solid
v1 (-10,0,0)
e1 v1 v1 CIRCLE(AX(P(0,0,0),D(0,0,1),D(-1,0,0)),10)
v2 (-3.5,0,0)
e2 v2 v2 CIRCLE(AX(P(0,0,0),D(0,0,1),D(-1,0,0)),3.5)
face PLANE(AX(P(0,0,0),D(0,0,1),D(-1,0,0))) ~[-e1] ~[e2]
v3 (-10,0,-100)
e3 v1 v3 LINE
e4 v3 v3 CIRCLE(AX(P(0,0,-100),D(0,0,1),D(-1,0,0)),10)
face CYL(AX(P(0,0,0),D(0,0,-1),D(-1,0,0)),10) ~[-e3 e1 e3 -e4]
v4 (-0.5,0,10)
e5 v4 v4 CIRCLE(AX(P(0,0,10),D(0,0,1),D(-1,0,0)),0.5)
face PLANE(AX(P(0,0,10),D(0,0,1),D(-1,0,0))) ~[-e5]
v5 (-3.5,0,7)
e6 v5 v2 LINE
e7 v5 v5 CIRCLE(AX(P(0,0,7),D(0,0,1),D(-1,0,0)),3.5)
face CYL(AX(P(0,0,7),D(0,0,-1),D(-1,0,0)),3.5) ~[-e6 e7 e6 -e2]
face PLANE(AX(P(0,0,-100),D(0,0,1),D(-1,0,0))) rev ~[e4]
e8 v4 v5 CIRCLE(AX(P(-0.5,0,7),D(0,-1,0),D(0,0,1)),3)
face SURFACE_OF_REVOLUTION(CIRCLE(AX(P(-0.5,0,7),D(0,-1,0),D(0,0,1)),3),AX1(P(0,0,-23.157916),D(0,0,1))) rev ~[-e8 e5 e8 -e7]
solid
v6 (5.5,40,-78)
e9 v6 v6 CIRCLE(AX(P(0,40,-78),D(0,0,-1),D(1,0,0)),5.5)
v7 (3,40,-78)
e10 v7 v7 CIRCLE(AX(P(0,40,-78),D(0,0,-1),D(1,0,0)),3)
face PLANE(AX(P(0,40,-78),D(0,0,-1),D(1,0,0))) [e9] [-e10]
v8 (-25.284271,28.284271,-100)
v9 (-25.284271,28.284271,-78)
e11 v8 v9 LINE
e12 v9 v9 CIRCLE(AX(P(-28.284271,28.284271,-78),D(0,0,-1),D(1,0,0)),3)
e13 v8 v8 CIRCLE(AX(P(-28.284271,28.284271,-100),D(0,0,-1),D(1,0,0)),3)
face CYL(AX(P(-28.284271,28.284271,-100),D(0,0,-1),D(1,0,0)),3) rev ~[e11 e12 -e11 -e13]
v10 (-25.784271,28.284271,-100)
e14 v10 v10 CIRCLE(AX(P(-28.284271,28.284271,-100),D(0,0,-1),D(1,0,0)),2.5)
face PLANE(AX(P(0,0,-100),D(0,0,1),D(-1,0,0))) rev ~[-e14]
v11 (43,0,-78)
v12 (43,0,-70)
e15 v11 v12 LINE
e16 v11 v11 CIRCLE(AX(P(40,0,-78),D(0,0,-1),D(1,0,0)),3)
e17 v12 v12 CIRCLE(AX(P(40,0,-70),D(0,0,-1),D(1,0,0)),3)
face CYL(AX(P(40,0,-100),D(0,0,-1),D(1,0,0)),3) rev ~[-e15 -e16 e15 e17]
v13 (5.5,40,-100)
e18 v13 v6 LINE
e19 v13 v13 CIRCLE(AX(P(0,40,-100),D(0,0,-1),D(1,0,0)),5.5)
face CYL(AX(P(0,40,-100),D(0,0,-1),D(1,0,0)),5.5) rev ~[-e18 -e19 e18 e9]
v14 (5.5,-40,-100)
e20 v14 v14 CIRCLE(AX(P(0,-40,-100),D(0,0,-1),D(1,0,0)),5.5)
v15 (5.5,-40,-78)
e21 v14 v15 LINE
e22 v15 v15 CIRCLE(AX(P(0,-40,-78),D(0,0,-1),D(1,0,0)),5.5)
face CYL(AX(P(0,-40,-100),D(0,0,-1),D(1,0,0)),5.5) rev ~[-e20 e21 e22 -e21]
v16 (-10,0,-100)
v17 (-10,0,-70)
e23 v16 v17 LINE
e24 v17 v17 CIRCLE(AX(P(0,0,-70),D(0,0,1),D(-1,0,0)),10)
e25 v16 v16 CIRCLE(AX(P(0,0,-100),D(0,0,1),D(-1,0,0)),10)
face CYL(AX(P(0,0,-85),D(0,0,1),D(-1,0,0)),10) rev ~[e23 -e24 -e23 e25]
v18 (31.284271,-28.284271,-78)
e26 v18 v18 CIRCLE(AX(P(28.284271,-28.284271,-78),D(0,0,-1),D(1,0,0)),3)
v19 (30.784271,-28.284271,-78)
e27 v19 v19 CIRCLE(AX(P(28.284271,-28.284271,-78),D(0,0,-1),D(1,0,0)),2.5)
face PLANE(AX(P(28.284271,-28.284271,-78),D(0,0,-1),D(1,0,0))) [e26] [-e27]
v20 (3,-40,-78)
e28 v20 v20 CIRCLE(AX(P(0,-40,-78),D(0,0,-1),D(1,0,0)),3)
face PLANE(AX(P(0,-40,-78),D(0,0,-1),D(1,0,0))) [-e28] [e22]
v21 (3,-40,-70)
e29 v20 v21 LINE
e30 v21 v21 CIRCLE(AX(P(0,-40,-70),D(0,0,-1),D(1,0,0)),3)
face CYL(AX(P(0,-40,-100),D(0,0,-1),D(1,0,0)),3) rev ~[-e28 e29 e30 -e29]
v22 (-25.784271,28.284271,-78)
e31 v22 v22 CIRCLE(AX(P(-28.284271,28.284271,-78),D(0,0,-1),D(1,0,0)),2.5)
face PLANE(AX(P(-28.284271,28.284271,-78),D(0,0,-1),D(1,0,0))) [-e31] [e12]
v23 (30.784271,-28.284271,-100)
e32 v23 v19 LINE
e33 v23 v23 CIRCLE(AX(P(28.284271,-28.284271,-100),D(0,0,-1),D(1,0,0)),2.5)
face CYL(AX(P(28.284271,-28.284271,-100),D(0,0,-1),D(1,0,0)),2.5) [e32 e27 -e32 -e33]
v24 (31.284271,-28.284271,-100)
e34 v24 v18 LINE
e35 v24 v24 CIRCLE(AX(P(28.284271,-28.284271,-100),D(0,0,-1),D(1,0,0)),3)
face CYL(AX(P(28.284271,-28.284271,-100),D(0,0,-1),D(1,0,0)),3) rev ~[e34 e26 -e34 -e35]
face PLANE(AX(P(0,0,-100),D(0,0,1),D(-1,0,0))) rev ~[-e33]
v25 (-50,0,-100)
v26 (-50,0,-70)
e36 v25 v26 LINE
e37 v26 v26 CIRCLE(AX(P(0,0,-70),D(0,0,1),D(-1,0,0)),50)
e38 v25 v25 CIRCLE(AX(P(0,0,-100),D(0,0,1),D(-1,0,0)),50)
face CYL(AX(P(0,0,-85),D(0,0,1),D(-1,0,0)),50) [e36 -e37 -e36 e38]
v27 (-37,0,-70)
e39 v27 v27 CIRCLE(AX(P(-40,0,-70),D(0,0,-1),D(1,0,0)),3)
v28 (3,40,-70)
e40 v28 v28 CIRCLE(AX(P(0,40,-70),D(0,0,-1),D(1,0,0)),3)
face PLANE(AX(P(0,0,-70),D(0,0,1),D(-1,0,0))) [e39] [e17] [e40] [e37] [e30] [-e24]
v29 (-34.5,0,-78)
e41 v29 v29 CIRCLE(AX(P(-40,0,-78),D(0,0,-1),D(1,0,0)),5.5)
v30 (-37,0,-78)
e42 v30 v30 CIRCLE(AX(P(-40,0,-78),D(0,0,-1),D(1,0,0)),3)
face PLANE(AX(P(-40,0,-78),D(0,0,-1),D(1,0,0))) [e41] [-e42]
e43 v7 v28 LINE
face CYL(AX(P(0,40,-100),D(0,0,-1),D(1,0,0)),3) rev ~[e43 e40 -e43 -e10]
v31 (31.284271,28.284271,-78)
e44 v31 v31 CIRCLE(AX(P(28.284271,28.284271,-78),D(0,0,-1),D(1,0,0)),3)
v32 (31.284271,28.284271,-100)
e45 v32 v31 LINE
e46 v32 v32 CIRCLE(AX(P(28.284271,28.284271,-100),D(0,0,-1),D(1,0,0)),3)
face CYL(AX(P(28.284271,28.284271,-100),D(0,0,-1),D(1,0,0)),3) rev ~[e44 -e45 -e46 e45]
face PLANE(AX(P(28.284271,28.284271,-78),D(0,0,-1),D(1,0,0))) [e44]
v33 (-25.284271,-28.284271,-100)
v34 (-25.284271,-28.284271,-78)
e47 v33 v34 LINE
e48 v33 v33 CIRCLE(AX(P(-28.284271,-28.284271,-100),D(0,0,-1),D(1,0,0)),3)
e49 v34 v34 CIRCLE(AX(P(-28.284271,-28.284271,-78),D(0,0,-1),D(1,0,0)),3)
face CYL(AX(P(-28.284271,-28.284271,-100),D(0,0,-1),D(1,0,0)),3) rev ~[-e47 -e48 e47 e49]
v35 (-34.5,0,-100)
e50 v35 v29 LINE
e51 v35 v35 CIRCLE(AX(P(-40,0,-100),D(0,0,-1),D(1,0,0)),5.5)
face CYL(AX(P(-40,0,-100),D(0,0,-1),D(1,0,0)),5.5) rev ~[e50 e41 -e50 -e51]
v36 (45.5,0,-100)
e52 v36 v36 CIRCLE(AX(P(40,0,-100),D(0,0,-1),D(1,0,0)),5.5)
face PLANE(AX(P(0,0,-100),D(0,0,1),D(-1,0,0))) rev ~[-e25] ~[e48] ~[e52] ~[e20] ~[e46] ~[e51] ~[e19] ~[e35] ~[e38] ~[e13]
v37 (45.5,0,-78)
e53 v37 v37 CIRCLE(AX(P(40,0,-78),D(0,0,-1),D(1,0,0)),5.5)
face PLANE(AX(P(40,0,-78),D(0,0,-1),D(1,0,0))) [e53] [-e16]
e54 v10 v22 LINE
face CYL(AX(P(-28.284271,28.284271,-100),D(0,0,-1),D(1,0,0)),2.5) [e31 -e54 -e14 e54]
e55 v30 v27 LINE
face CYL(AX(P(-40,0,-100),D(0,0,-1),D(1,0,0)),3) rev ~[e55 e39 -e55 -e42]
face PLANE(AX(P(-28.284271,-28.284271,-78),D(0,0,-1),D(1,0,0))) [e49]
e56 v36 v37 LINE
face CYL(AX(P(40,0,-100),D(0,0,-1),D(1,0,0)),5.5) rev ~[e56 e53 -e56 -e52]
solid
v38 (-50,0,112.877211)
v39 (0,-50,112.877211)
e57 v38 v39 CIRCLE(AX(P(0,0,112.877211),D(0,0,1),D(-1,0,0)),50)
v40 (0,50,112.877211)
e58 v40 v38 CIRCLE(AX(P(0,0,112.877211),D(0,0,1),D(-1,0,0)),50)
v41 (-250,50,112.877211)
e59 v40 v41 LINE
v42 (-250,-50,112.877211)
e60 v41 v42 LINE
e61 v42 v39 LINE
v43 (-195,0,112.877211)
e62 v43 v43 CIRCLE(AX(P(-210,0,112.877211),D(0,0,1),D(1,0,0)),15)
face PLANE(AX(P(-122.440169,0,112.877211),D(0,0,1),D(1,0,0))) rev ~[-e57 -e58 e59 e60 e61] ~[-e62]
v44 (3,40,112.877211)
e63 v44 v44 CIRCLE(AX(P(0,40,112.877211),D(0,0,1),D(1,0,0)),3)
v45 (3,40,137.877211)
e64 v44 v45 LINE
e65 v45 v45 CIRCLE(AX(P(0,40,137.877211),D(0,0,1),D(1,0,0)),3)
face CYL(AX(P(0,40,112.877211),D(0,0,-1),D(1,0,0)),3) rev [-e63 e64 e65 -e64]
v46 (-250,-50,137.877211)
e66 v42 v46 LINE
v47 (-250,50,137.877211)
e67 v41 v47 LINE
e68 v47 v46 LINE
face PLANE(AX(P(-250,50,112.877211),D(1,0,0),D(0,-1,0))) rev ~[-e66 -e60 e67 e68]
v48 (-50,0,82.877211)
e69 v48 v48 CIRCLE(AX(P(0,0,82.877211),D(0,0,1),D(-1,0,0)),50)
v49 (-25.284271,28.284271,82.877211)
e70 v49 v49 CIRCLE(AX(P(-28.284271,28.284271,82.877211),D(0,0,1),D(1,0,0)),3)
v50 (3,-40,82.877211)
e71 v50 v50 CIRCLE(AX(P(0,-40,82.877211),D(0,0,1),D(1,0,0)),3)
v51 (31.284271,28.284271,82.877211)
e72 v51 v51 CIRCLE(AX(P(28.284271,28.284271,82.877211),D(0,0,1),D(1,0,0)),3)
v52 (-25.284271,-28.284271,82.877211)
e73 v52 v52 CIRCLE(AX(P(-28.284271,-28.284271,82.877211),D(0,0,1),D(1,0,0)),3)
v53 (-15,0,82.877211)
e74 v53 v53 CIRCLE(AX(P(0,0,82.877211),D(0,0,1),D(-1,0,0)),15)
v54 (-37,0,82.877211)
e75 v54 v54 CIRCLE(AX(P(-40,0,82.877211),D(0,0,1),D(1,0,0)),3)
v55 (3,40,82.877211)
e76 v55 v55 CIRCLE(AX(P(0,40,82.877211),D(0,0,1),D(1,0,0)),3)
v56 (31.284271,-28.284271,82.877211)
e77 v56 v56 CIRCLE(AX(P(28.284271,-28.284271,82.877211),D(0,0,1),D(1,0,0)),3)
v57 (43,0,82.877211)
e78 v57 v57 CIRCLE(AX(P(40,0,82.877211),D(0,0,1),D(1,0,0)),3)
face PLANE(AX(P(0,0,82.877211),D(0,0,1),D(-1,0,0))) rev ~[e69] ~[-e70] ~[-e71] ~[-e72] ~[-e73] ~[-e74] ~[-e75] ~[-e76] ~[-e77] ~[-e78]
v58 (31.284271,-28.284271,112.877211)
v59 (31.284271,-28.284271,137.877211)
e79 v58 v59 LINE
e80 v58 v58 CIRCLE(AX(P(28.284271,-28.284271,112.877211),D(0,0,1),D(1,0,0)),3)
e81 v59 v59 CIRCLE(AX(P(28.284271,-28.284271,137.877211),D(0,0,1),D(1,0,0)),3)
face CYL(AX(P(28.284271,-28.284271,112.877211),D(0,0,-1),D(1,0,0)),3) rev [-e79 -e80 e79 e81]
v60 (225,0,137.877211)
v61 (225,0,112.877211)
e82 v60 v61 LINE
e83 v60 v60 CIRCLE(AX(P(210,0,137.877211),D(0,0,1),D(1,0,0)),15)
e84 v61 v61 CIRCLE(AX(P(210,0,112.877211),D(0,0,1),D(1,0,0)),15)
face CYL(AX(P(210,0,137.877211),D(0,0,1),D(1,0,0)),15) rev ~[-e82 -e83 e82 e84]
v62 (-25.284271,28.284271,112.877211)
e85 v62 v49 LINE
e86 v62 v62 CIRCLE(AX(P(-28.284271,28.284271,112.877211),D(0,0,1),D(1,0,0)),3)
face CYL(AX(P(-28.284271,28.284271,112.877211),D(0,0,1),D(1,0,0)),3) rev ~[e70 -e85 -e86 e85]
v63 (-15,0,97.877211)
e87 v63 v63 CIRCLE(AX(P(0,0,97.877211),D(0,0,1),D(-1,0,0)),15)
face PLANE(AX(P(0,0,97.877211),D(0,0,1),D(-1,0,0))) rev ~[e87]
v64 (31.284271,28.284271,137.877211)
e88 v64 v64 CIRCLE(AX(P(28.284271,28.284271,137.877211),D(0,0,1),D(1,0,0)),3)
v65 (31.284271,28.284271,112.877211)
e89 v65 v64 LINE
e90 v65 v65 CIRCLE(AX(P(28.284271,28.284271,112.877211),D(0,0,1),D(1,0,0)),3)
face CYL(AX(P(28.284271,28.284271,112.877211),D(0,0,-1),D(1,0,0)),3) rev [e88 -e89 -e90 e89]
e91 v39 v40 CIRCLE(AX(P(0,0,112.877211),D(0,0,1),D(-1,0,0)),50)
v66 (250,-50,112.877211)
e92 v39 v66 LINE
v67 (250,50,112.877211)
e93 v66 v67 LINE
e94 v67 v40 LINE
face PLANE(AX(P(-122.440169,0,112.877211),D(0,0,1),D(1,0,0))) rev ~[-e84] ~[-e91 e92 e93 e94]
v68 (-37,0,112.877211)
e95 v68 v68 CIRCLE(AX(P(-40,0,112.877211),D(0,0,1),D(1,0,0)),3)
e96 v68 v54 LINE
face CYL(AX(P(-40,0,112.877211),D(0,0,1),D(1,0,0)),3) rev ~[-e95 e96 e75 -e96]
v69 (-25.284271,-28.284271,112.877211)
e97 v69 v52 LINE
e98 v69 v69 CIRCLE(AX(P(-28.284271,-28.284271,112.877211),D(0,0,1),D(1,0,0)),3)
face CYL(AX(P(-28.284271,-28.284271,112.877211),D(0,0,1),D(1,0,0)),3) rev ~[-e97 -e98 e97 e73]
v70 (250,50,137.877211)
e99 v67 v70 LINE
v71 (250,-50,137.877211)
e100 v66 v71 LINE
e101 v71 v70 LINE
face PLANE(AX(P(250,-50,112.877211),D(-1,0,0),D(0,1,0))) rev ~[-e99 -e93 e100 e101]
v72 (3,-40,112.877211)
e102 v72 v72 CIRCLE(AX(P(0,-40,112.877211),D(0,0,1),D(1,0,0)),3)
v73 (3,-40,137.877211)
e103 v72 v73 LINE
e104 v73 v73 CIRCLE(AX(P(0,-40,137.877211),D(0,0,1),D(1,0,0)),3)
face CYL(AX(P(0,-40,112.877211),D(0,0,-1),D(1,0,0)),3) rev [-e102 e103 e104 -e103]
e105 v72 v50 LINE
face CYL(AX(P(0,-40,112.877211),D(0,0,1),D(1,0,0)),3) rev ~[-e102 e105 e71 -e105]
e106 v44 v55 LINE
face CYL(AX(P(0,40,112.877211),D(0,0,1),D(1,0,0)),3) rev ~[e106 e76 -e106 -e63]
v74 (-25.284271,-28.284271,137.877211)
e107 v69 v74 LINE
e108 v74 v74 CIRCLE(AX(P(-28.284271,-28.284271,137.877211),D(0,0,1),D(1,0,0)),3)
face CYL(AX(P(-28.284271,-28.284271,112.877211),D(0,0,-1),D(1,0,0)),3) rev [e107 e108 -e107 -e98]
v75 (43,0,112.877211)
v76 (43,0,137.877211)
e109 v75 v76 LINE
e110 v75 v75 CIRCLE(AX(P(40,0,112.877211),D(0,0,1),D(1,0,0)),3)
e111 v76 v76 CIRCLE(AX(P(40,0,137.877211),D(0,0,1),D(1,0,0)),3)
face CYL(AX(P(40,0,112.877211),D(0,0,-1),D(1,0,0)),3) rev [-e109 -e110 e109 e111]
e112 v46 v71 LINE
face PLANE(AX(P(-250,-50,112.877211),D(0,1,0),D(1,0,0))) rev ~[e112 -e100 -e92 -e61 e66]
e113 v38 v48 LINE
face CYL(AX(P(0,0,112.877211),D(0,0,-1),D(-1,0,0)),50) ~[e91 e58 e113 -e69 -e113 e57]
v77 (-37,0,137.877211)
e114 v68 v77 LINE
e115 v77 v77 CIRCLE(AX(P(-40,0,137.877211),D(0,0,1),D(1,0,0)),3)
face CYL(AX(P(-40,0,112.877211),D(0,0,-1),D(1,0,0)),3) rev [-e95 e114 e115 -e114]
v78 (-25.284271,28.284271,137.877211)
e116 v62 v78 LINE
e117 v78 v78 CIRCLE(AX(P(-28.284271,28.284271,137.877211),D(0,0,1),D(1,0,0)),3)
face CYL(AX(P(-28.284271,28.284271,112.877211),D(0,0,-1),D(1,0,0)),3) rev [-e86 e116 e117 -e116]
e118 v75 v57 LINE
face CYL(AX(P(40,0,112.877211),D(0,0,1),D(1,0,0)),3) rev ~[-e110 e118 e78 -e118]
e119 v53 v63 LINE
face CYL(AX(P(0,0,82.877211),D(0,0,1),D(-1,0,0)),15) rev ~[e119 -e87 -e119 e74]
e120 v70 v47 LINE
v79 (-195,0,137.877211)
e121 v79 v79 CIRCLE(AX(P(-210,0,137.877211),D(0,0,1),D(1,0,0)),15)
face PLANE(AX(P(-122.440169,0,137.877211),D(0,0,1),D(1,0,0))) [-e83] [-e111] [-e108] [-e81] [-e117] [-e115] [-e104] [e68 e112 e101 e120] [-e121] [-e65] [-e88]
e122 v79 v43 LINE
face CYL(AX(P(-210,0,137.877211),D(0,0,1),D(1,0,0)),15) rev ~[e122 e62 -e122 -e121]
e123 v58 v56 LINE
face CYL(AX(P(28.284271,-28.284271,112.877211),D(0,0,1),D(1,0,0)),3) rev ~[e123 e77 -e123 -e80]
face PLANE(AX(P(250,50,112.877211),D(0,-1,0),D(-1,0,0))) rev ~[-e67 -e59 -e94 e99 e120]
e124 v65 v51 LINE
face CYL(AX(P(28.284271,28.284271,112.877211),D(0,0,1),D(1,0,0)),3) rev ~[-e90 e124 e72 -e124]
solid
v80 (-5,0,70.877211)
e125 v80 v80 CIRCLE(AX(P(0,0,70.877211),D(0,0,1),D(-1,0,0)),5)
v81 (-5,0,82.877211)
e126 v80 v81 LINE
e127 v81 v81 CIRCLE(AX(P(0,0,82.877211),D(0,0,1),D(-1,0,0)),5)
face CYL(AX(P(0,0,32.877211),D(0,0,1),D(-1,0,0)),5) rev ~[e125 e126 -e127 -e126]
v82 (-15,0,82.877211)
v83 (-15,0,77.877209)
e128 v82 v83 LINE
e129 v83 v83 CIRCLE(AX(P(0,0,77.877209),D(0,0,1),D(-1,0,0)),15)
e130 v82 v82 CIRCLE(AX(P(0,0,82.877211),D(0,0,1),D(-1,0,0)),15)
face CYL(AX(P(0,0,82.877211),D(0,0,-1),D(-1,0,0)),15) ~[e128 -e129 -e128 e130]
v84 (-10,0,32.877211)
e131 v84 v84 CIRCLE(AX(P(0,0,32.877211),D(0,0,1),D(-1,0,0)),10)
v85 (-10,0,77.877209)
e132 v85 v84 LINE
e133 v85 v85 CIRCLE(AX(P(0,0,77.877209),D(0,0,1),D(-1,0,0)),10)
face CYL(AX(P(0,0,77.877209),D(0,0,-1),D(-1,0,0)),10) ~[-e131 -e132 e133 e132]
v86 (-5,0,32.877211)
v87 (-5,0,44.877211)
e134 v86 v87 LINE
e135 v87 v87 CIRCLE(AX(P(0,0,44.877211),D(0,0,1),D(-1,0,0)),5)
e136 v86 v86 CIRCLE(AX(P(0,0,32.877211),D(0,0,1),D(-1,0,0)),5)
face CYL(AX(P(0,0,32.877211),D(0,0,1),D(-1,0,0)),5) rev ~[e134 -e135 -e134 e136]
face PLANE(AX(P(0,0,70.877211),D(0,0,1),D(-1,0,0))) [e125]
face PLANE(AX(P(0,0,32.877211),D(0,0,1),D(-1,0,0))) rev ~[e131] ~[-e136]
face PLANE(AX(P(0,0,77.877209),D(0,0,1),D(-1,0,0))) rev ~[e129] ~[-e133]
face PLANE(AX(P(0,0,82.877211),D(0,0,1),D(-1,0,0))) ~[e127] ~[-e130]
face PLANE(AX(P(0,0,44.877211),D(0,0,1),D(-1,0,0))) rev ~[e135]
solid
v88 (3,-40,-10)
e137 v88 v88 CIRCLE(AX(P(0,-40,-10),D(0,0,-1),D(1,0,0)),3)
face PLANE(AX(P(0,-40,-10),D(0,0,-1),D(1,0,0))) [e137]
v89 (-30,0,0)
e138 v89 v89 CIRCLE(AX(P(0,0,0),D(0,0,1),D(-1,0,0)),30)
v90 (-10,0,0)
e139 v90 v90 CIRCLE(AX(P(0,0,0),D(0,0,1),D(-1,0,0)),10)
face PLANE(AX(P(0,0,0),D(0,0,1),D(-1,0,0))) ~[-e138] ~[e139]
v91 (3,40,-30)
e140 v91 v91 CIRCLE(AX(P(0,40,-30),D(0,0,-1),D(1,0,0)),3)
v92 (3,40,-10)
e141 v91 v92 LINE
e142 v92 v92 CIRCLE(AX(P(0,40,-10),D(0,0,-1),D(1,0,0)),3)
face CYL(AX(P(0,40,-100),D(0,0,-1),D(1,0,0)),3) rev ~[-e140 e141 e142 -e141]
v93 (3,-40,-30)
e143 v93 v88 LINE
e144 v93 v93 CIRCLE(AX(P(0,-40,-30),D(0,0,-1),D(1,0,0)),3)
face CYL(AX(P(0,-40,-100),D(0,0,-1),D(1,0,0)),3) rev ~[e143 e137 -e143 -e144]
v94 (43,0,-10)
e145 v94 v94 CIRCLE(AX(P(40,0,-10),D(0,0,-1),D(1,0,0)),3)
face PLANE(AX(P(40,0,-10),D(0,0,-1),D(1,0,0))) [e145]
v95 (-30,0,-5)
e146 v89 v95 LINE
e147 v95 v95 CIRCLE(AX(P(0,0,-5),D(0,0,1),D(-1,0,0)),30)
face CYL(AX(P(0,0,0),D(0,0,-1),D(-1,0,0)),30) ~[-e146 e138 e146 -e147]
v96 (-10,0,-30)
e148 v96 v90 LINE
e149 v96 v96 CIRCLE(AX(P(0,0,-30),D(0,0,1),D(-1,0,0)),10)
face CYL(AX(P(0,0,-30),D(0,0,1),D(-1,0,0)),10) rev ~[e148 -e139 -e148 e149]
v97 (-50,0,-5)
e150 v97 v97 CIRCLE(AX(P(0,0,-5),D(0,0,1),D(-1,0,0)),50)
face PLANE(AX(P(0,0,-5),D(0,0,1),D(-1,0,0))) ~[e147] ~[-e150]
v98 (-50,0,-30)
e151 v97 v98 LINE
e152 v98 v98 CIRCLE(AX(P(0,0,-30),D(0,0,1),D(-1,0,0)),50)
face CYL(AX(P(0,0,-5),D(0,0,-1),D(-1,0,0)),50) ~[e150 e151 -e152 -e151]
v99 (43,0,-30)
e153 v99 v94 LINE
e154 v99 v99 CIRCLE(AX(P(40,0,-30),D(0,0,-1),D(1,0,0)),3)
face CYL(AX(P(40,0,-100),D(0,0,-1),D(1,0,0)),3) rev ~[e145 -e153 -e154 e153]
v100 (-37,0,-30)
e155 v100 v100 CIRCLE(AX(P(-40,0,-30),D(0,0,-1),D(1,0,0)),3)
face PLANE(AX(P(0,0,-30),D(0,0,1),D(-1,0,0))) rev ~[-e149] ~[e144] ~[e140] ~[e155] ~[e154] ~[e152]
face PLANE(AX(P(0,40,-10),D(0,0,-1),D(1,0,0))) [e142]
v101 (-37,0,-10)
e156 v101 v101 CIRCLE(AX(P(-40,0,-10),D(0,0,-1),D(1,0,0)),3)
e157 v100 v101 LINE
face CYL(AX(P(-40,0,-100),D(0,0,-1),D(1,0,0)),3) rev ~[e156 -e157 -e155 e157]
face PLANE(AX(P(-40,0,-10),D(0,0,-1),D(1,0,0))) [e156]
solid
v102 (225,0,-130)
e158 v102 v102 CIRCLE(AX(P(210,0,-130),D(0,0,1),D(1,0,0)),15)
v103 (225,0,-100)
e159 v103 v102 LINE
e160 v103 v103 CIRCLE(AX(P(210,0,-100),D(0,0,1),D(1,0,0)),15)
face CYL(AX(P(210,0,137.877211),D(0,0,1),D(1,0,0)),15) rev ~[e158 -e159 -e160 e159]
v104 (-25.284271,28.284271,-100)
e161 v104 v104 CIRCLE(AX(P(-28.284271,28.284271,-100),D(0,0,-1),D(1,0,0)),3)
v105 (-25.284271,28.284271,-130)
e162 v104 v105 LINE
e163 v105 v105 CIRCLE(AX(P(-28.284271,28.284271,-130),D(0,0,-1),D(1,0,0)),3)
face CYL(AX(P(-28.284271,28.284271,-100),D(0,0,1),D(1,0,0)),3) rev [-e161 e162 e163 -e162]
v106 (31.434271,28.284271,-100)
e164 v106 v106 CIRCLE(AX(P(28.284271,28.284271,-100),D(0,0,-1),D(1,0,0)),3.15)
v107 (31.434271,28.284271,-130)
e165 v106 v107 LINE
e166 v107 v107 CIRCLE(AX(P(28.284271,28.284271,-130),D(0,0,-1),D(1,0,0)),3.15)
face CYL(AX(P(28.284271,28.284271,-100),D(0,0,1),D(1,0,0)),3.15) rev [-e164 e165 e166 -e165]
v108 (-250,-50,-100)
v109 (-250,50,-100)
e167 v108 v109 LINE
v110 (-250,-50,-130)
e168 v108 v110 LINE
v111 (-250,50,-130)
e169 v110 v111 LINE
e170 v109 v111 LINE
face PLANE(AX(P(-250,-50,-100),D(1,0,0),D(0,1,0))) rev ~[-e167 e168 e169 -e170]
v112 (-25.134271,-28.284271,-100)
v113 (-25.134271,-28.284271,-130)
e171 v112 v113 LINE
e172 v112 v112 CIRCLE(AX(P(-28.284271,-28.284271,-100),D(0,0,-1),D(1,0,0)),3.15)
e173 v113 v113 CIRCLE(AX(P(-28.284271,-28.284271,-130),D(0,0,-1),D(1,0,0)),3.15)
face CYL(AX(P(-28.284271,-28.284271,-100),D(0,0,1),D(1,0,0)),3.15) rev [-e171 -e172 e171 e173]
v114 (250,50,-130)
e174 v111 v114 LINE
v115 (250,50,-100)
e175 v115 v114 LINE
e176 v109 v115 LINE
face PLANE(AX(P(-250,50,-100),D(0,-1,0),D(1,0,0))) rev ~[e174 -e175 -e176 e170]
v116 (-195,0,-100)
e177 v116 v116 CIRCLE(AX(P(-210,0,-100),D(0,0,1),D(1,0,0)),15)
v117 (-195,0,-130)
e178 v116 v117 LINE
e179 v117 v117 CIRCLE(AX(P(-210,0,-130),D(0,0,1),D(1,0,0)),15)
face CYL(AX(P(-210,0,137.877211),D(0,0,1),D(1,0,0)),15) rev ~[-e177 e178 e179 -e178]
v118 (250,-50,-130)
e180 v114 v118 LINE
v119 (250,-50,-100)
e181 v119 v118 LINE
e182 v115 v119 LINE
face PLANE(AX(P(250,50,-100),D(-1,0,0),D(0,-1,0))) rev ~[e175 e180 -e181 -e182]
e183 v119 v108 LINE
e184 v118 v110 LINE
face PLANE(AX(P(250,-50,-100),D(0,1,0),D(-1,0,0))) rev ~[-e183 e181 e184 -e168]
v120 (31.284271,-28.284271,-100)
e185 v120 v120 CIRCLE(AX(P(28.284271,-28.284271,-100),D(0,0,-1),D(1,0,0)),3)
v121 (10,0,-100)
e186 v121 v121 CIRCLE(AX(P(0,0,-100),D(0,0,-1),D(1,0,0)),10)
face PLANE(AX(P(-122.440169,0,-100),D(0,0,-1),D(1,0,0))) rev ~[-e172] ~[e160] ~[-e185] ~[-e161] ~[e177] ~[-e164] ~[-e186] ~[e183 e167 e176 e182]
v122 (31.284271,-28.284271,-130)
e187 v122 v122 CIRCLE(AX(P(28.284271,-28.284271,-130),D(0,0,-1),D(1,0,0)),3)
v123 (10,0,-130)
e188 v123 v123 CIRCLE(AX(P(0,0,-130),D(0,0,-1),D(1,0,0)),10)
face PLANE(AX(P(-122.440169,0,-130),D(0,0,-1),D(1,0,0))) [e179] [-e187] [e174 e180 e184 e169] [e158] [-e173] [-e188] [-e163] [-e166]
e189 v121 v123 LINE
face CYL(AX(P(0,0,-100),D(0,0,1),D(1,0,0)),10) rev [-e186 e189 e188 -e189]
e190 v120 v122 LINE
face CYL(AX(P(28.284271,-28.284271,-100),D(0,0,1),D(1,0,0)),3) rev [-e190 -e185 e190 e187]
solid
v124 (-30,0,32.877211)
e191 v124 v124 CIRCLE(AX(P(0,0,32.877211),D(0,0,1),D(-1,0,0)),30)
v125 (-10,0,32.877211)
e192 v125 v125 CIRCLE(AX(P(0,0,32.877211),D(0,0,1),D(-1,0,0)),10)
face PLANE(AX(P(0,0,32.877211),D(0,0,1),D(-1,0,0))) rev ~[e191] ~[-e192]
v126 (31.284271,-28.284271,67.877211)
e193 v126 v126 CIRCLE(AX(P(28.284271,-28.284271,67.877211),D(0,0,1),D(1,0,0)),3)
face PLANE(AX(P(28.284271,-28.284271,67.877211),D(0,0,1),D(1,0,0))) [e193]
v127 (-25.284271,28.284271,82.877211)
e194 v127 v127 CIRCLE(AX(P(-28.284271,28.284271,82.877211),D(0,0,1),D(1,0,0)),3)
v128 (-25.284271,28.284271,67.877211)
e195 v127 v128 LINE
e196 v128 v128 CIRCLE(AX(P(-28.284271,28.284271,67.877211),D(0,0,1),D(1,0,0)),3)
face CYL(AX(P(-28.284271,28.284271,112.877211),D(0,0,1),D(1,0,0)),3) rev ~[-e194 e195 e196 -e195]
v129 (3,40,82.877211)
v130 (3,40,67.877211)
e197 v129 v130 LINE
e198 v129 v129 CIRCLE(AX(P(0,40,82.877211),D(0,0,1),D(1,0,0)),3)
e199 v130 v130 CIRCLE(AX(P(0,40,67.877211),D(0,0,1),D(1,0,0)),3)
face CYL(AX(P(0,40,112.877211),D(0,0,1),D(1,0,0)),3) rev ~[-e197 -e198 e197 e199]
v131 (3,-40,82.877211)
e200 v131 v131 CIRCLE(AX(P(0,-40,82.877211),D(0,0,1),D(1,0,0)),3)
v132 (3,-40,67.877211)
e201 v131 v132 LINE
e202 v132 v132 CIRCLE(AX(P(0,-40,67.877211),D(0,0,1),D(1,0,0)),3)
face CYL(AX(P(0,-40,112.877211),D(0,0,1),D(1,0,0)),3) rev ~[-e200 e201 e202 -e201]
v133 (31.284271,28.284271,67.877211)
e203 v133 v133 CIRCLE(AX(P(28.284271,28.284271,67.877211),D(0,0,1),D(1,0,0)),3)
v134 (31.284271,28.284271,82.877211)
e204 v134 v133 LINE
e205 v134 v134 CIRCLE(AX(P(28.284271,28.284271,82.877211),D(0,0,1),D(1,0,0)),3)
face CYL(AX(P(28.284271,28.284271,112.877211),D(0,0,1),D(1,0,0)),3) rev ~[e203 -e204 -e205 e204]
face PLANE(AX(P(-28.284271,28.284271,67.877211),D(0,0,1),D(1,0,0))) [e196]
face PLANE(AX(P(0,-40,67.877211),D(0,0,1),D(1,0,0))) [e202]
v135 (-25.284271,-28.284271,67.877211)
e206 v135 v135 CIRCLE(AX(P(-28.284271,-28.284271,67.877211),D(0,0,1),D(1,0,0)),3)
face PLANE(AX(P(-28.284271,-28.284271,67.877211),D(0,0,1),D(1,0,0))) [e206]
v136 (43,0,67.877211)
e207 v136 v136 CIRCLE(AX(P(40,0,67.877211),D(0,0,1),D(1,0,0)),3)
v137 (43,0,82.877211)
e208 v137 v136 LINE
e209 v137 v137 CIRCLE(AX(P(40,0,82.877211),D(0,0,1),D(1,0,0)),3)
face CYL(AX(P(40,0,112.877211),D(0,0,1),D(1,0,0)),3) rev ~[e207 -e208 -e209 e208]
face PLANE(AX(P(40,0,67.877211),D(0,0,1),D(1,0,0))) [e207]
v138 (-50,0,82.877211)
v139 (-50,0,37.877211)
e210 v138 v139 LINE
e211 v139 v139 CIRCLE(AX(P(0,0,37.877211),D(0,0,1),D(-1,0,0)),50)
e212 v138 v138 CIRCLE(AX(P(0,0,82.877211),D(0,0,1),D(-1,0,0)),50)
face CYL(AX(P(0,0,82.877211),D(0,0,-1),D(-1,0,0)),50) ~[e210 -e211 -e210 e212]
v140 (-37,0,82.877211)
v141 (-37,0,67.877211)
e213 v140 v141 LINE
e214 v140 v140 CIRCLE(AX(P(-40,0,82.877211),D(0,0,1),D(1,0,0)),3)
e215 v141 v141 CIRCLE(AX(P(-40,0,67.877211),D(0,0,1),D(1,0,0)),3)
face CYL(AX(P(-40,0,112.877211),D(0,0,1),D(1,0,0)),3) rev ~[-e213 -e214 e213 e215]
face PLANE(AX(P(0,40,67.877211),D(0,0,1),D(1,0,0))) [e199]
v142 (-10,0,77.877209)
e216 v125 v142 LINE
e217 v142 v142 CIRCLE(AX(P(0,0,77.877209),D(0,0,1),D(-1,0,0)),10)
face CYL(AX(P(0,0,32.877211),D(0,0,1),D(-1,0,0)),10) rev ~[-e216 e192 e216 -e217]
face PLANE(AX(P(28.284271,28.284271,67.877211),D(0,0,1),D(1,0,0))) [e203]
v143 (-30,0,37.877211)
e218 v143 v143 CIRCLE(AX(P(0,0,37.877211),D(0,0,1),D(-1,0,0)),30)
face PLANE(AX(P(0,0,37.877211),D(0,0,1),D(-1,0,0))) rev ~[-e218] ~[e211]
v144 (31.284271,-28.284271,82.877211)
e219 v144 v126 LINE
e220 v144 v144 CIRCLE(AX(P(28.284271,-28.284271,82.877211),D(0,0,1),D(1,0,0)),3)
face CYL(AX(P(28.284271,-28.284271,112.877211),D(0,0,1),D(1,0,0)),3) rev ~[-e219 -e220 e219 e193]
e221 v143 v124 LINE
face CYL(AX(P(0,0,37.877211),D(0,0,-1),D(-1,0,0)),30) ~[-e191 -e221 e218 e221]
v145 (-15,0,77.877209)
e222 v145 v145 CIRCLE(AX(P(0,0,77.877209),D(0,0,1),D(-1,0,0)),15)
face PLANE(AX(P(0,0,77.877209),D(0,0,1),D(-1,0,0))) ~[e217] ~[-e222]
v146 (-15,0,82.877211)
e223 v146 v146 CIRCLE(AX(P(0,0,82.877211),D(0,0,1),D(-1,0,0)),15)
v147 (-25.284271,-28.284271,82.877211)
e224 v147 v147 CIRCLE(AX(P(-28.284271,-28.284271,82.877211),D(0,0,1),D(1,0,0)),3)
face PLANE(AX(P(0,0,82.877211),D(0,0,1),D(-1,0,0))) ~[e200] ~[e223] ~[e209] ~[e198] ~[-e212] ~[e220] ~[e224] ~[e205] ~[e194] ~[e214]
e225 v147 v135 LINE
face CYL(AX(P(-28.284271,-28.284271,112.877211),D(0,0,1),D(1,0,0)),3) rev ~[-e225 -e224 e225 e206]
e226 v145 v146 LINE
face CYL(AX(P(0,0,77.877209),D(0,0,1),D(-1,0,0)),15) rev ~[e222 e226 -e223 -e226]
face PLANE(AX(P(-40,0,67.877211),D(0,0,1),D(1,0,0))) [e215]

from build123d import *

# Parameters (mm, degrees)
F0_W      = 40
F0_H      = 30
F4_R      = 3
F5_DEPTH  = 90
F4_R_2    = 5.5
F4_R_3    = 2.5
F6_DEPTH  = 22
F4_R_4    = 3.15
F4_R_5    = 10
F7_DEPTH  = 30
F8_W      = 4.9999998882
F8_H      = 26
F12_R     = 3
F13_DEPTH = 45
F14_DEPTH = 25
F15_R     = 15
F16_DEPTH = 300


with BuildPart() as f1:
    # F0 (on Front) → F1 (revolve)
    with BuildSketch(Plane.XZ):
        Polygon((-10, 0), (-30, 0), (-30, -5), (-50, -5), (-50, -30), (-10, -30), align=None)
    revolve(axis=Axis((0, 0, -23.157916218), (0, 0, 1)))


with BuildPart() as f2:
    # F0 (on Front) → F2 (revolve)
    with BuildSketch(Plane.XZ):
        with BuildLine():
            Line((-3.5, 0), (-10, 0))
            Line((-10, 0), (-10, -30))
            Line((-10, -30), (-10, -70))
            Line((-10, -70), (-10, -100))
            Line((-10, -100), (0, -100))
            Line((0, -100), (0, 10))
            Line((0, 10), (-0.5, 10))
            ThreePointArc((-0.5, 10), (-2.6213203436, 9.1213203436), (-3.5, 7))
            Line((-3.5, 7), (-3.5, 0))
        make_face()
    revolve(axis=Axis((0, 0, -23.157916218), (0, 0, 1)))


with BuildPart() as f3:
    # F0 (on Front) → F3 (revolve)
    with BuildSketch(Plane.XZ):
        with Locations((-30, -85)):
            Rectangle(F0_W, F0_H)
    revolve(axis=Axis((0, 0, -23.157916218), (0, 0, 1)))


with BuildPart() as f5_tool:
    # F4 (on face) → F5 (new body)
    with BuildSketch(Plane(origin=(0, 0, -100), x_dir=(1, 0, 0), z_dir=(0, 0, -1))):
        with Locations((0, -40)):
            Circle(F4_R)
        with Locations((-40, 0)):
            Circle(F4_R)
        with Locations((0, 40)):
            Circle(F4_R)
        with Locations((40, 0)):
            Circle(F4_R)
    extrude(amount=-F5_DEPTH)


with BuildPart() as f1_1:
    add(f1.part)

    # F5: cut by f5_tool
    add(f5_tool.part, mode=Mode.SUBTRACT)


with BuildPart() as f3_1:
    add(f3.part)

    # F5: cut by f5_tool
    add(f5_tool.part, mode=Mode.SUBTRACT)

    # F4 (on face) → F6 (cut)
    with BuildSketch(Plane(origin=(0, 0, -100), x_dir=(1, 0, 0), z_dir=(0, 0, -1))):
        with Locations((-40, 0)):
            Circle(F4_R_2)
        with Locations((-40, 0)):
            Circle(F4_R, mode=Mode.SUBTRACT)
        with Locations((0, -40)):
            Circle(F4_R_2)
        with Locations((0, -40)):
            Circle(F4_R, mode=Mode.SUBTRACT)
        with Locations((40, 0)):
            Circle(F4_R_2)
        with Locations((40, 0)):
            Circle(F4_R, mode=Mode.SUBTRACT)
        with Locations((0, 40)):
            Circle(F4_R_2)
        with Locations((0, 40)):
            Circle(F4_R, mode=Mode.SUBTRACT)
        with Locations((28.2842712475, -28.2842712475)):
            Circle(F4_R)
        with Locations((-28.2842712475, -28.2842712475)):
            Circle(F4_R)
        with Locations((-28.2842712475, -28.2842712475)):
            Circle(F4_R_3, mode=Mode.SUBTRACT)
        with Locations((-28.2842712475, 28.2842712475)):
            Circle(F4_R)
        with Locations((28.2842712475, 28.2842712475)):
            Circle(F4_R)
        with Locations((28.2842712475, 28.2842712475)):
            Circle(F4_R_3, mode=Mode.SUBTRACT)
    extrude(amount=-F6_DEPTH, mode=Mode.SUBTRACT)


with BuildPart() as f7:
    # F4 (on face) → F7 (new body)
    with BuildSketch(Plane(origin=(0, 0, -100), x_dir=(1, 0, 0), z_dir=(0, 0, -1))):
        with BuildLine():
            Line((-250, 50), (-250, -50))
            Line((-250, -50), (0, -50))
            ThreePointArc((0, -50), (-50, 0), (0, 50))
            Line((0, 50), (-250, 50))
        make_face()
        with BuildLine():
            ThreePointArc((50, 0), (35.3553390593, -35.3553390593), (0, -50))
            Line((0, -50), (250, -50))
            Line((250, -50), (250, 50))
            Line((250, 50), (0, 50))
            ThreePointArc((0, 50), (35.3553390593, 35.3553390593), (50, 0))
        make_face()
        with BuildLine():
            ThreePointArc((0, 50), (-50, 0), (0, -50))
            ThreePointArc((0, -50), (35.3553390593, -35.3553390593), (50, 0))
            ThreePointArc((50, 0), (35.3553390593, 35.3553390593), (0, 50))
        make_face()
        with Locations((-28.2842712475, -28.2842712475)):
            Circle(F4_R, mode=Mode.SUBTRACT)
        with Locations((0, -40)):
            Circle(F4_R_2, mode=Mode.SUBTRACT)
        with Locations((28.2842712475, -28.2842712475)):
            Circle(F4_R_4, mode=Mode.SUBTRACT)
        with Locations((-40, 0)):
            Circle(F4_R_2, mode=Mode.SUBTRACT)
        with Locations((-28.2842712475, 28.2842712475)):
            Circle(F4_R_4, mode=Mode.SUBTRACT)
        Circle(F4_R_5, mode=Mode.SUBTRACT)
        with Locations((40, 0)):
            Circle(F4_R_2, mode=Mode.SUBTRACT)
        with Locations((28.2842712475, 28.2842712475)):
            Circle(F4_R, mode=Mode.SUBTRACT)
        with Locations((0, 40)):
            Circle(F4_R_2, mode=Mode.SUBTRACT)
        with Locations((0, -40)):
            Circle(F4_R_2)
        with Locations((0, -40)):
            Circle(F4_R, mode=Mode.SUBTRACT)
        with Locations((0, -40)):
            Circle(F4_R)
        with Locations((40, 0)):
            Circle(F4_R_2)
        with Locations((40, 0)):
            Circle(F4_R, mode=Mode.SUBTRACT)
        with Locations((40, 0)):
            Circle(F4_R)
        with Locations((0, 40)):
            Circle(F4_R_2)
        with Locations((0, 40)):
            Circle(F4_R, mode=Mode.SUBTRACT)
        with Locations((0, 40)):
            Circle(F4_R)
        with Locations((-40, 0)):
            Circle(F4_R_2)
        with Locations((-40, 0)):
            Circle(F4_R, mode=Mode.SUBTRACT)
        with Locations((-40, 0)):
            Circle(F4_R)
    extrude(amount=F7_DEPTH)


with BuildPart() as f9:
    # F8 (on Front) → F9 (revolve)
    with BuildSketch(Plane.XZ):
        Polygon((-4.9999998882, 32.8772112727), (-4.9999998882, 44.8772112727), (-4.9999998882, 70.8772112727), (-4.9999998882, 82.8772112727), (-14.9999996647, 82.8772112727), (-14.9999996647, 77.8772085905), (-10, 77.8772085905), (-10, 32.8772112727), align=None)
        with Locations((-2.4999999441, 57.8772112727)):
            Rectangle(F8_W, F8_H)
    revolve(axis=Axis((0, 0, -14.5613943636), (0, 0, 1)))


with BuildPart() as f10:
    # F8 (on Front) → F10 (revolve)
    with BuildSketch(Plane.XZ):
        Polygon((-30, 32.8772112727), (-10, 32.8772112727), (-10, 77.8772085905), (-14.9999996647, 77.8772085905), (-14.9999996647, 82.8772112727), (-50, 82.8772112727), (-50, 37.8772112727), (-30, 37.8772112727), align=None)
    revolve(axis=Axis((0, 0, -14.5613943636), (0, 0, 1)))


with BuildPart() as f11:
    # F8 (on Front) → F11 (revolve)
    with BuildSketch(Plane.XZ):
        Polygon((-50, 82.8772112727), (-14.9999996647, 82.8772112727), (-14.9999996647, 97.8772112727), (0, 97.8772112727), (0, 112.8772112727), (-50, 112.8772112727), align=None)
    revolve(axis=Axis((0, 0, 105.3772112727), (0, 0, 1)))


with BuildPart() as f13_tool:
    # F12 (on face) → F13 (new body)
    with BuildSketch(Plane.XY.offset(112.8772112727)):
        with Locations((-28.2842712475, -28.2842712475)):
            Circle(F12_R)
        with Locations((28.2842712475, -28.2842712475)):
            Circle(F12_R)
        with Locations((28.2842712475, 28.2842712475)):
            Circle(F12_R)
        with Locations((-28.2842712475, 28.2842712475)):
            Circle(F12_R)
        with Locations((-40, 0)):
            Circle(F12_R)
        with Locations((0, -40)):
            Circle(F12_R)
        with Locations((40, 0)):
            Circle(F12_R)
        with Locations((0, 40)):
            Circle(F12_R)
    extrude(amount=-F13_DEPTH)


with BuildPart() as f10_1:
    add(f10.part)

    # F13: cut by f13_tool
    add(f13_tool.part, mode=Mode.SUBTRACT)


with BuildPart() as f11_1:
    add(f11.part)

    # F13: cut by f13_tool
    add(f13_tool.part, mode=Mode.SUBTRACT)

    # F12 (on face) → F14 (join)
    with BuildSketch(Plane.XY.offset(112.8772112727)):
        with BuildLine():
            ThreePointArc((-2.072e-07, -50), (-50, 1.71e-07), (1.348e-07, 50))
            Line((1.348e-07, 50), (-250, 50))
            Line((-250, 50), (-250, -50))
            Line((-250, -50), (-2.072e-07, -50))
        make_face()
        with BuildLine():
            Line((250, -50), (250, 50))
            Line((250, 50), (1.348e-07, 50))
            ThreePointArc((1.348e-07, 50), (35.355339107, 35.3553390117), (50, 0))
            ThreePointArc((50, 0), (35.3553389861, -35.3553391326), (-2.072e-07, -50))
            Line((-2.072e-07, -50), (250, -50))
        make_face()
        with BuildLine():
            ThreePointArc((50, 0), (35.355339107, 35.3553390117), (1.348e-07, 50))
            ThreePointArc((1.348e-07, 50), (-50, 1.71e-07), (-2.072e-07, -50))
            ThreePointArc((-2.072e-07, -50), (35.3553389861, -35.3553391326), (50, 0))
        make_face()
        with Locations((-28.2842712475, -28.2842712475)):
            Circle(F12_R, mode=Mode.SUBTRACT)
        with Locations((0, -40)):
            Circle(F12_R, mode=Mode.SUBTRACT)
        with Locations((28.2842712475, -28.2842712475)):
            Circle(F12_R, mode=Mode.SUBTRACT)
        with Locations((-40, 0)):
            Circle(F12_R, mode=Mode.SUBTRACT)
        with Locations((-28.2842712475, 28.2842712475)):
            Circle(F12_R, mode=Mode.SUBTRACT)
        with Locations((40, 0)):
            Circle(F12_R, mode=Mode.SUBTRACT)
        with Locations((28.2842712475, 28.2842712475)):
            Circle(F12_R, mode=Mode.SUBTRACT)
        with Locations((0, 40)):
            Circle(F12_R, mode=Mode.SUBTRACT)
    extrude(amount=F14_DEPTH)


with BuildPart() as f16_tool:
    # F15 (on face) → F16 (new body)
    with BuildSketch(Plane.XY.offset(137.8772112727)):
        with Locations((210, 0)):
            Circle(F15_R)
        with Locations((-210, 0)):
            Circle(F15_R)
    extrude(amount=-F16_DEPTH)


with BuildPart() as f7_1:
    add(f7.part)

    # F16: cut by f16_tool
    add(f16_tool.part, mode=Mode.SUBTRACT)


with BuildPart() as f11_2:
    add(f11_1.part)

    # F16: cut by f16_tool
    add(f16_tool.part, mode=Mode.SUBTRACT)


solid = Compound([f2.part, f1_1.part, f3_1.part, f9.part, f10_1.part, f7_1.part, f11_2.part])
